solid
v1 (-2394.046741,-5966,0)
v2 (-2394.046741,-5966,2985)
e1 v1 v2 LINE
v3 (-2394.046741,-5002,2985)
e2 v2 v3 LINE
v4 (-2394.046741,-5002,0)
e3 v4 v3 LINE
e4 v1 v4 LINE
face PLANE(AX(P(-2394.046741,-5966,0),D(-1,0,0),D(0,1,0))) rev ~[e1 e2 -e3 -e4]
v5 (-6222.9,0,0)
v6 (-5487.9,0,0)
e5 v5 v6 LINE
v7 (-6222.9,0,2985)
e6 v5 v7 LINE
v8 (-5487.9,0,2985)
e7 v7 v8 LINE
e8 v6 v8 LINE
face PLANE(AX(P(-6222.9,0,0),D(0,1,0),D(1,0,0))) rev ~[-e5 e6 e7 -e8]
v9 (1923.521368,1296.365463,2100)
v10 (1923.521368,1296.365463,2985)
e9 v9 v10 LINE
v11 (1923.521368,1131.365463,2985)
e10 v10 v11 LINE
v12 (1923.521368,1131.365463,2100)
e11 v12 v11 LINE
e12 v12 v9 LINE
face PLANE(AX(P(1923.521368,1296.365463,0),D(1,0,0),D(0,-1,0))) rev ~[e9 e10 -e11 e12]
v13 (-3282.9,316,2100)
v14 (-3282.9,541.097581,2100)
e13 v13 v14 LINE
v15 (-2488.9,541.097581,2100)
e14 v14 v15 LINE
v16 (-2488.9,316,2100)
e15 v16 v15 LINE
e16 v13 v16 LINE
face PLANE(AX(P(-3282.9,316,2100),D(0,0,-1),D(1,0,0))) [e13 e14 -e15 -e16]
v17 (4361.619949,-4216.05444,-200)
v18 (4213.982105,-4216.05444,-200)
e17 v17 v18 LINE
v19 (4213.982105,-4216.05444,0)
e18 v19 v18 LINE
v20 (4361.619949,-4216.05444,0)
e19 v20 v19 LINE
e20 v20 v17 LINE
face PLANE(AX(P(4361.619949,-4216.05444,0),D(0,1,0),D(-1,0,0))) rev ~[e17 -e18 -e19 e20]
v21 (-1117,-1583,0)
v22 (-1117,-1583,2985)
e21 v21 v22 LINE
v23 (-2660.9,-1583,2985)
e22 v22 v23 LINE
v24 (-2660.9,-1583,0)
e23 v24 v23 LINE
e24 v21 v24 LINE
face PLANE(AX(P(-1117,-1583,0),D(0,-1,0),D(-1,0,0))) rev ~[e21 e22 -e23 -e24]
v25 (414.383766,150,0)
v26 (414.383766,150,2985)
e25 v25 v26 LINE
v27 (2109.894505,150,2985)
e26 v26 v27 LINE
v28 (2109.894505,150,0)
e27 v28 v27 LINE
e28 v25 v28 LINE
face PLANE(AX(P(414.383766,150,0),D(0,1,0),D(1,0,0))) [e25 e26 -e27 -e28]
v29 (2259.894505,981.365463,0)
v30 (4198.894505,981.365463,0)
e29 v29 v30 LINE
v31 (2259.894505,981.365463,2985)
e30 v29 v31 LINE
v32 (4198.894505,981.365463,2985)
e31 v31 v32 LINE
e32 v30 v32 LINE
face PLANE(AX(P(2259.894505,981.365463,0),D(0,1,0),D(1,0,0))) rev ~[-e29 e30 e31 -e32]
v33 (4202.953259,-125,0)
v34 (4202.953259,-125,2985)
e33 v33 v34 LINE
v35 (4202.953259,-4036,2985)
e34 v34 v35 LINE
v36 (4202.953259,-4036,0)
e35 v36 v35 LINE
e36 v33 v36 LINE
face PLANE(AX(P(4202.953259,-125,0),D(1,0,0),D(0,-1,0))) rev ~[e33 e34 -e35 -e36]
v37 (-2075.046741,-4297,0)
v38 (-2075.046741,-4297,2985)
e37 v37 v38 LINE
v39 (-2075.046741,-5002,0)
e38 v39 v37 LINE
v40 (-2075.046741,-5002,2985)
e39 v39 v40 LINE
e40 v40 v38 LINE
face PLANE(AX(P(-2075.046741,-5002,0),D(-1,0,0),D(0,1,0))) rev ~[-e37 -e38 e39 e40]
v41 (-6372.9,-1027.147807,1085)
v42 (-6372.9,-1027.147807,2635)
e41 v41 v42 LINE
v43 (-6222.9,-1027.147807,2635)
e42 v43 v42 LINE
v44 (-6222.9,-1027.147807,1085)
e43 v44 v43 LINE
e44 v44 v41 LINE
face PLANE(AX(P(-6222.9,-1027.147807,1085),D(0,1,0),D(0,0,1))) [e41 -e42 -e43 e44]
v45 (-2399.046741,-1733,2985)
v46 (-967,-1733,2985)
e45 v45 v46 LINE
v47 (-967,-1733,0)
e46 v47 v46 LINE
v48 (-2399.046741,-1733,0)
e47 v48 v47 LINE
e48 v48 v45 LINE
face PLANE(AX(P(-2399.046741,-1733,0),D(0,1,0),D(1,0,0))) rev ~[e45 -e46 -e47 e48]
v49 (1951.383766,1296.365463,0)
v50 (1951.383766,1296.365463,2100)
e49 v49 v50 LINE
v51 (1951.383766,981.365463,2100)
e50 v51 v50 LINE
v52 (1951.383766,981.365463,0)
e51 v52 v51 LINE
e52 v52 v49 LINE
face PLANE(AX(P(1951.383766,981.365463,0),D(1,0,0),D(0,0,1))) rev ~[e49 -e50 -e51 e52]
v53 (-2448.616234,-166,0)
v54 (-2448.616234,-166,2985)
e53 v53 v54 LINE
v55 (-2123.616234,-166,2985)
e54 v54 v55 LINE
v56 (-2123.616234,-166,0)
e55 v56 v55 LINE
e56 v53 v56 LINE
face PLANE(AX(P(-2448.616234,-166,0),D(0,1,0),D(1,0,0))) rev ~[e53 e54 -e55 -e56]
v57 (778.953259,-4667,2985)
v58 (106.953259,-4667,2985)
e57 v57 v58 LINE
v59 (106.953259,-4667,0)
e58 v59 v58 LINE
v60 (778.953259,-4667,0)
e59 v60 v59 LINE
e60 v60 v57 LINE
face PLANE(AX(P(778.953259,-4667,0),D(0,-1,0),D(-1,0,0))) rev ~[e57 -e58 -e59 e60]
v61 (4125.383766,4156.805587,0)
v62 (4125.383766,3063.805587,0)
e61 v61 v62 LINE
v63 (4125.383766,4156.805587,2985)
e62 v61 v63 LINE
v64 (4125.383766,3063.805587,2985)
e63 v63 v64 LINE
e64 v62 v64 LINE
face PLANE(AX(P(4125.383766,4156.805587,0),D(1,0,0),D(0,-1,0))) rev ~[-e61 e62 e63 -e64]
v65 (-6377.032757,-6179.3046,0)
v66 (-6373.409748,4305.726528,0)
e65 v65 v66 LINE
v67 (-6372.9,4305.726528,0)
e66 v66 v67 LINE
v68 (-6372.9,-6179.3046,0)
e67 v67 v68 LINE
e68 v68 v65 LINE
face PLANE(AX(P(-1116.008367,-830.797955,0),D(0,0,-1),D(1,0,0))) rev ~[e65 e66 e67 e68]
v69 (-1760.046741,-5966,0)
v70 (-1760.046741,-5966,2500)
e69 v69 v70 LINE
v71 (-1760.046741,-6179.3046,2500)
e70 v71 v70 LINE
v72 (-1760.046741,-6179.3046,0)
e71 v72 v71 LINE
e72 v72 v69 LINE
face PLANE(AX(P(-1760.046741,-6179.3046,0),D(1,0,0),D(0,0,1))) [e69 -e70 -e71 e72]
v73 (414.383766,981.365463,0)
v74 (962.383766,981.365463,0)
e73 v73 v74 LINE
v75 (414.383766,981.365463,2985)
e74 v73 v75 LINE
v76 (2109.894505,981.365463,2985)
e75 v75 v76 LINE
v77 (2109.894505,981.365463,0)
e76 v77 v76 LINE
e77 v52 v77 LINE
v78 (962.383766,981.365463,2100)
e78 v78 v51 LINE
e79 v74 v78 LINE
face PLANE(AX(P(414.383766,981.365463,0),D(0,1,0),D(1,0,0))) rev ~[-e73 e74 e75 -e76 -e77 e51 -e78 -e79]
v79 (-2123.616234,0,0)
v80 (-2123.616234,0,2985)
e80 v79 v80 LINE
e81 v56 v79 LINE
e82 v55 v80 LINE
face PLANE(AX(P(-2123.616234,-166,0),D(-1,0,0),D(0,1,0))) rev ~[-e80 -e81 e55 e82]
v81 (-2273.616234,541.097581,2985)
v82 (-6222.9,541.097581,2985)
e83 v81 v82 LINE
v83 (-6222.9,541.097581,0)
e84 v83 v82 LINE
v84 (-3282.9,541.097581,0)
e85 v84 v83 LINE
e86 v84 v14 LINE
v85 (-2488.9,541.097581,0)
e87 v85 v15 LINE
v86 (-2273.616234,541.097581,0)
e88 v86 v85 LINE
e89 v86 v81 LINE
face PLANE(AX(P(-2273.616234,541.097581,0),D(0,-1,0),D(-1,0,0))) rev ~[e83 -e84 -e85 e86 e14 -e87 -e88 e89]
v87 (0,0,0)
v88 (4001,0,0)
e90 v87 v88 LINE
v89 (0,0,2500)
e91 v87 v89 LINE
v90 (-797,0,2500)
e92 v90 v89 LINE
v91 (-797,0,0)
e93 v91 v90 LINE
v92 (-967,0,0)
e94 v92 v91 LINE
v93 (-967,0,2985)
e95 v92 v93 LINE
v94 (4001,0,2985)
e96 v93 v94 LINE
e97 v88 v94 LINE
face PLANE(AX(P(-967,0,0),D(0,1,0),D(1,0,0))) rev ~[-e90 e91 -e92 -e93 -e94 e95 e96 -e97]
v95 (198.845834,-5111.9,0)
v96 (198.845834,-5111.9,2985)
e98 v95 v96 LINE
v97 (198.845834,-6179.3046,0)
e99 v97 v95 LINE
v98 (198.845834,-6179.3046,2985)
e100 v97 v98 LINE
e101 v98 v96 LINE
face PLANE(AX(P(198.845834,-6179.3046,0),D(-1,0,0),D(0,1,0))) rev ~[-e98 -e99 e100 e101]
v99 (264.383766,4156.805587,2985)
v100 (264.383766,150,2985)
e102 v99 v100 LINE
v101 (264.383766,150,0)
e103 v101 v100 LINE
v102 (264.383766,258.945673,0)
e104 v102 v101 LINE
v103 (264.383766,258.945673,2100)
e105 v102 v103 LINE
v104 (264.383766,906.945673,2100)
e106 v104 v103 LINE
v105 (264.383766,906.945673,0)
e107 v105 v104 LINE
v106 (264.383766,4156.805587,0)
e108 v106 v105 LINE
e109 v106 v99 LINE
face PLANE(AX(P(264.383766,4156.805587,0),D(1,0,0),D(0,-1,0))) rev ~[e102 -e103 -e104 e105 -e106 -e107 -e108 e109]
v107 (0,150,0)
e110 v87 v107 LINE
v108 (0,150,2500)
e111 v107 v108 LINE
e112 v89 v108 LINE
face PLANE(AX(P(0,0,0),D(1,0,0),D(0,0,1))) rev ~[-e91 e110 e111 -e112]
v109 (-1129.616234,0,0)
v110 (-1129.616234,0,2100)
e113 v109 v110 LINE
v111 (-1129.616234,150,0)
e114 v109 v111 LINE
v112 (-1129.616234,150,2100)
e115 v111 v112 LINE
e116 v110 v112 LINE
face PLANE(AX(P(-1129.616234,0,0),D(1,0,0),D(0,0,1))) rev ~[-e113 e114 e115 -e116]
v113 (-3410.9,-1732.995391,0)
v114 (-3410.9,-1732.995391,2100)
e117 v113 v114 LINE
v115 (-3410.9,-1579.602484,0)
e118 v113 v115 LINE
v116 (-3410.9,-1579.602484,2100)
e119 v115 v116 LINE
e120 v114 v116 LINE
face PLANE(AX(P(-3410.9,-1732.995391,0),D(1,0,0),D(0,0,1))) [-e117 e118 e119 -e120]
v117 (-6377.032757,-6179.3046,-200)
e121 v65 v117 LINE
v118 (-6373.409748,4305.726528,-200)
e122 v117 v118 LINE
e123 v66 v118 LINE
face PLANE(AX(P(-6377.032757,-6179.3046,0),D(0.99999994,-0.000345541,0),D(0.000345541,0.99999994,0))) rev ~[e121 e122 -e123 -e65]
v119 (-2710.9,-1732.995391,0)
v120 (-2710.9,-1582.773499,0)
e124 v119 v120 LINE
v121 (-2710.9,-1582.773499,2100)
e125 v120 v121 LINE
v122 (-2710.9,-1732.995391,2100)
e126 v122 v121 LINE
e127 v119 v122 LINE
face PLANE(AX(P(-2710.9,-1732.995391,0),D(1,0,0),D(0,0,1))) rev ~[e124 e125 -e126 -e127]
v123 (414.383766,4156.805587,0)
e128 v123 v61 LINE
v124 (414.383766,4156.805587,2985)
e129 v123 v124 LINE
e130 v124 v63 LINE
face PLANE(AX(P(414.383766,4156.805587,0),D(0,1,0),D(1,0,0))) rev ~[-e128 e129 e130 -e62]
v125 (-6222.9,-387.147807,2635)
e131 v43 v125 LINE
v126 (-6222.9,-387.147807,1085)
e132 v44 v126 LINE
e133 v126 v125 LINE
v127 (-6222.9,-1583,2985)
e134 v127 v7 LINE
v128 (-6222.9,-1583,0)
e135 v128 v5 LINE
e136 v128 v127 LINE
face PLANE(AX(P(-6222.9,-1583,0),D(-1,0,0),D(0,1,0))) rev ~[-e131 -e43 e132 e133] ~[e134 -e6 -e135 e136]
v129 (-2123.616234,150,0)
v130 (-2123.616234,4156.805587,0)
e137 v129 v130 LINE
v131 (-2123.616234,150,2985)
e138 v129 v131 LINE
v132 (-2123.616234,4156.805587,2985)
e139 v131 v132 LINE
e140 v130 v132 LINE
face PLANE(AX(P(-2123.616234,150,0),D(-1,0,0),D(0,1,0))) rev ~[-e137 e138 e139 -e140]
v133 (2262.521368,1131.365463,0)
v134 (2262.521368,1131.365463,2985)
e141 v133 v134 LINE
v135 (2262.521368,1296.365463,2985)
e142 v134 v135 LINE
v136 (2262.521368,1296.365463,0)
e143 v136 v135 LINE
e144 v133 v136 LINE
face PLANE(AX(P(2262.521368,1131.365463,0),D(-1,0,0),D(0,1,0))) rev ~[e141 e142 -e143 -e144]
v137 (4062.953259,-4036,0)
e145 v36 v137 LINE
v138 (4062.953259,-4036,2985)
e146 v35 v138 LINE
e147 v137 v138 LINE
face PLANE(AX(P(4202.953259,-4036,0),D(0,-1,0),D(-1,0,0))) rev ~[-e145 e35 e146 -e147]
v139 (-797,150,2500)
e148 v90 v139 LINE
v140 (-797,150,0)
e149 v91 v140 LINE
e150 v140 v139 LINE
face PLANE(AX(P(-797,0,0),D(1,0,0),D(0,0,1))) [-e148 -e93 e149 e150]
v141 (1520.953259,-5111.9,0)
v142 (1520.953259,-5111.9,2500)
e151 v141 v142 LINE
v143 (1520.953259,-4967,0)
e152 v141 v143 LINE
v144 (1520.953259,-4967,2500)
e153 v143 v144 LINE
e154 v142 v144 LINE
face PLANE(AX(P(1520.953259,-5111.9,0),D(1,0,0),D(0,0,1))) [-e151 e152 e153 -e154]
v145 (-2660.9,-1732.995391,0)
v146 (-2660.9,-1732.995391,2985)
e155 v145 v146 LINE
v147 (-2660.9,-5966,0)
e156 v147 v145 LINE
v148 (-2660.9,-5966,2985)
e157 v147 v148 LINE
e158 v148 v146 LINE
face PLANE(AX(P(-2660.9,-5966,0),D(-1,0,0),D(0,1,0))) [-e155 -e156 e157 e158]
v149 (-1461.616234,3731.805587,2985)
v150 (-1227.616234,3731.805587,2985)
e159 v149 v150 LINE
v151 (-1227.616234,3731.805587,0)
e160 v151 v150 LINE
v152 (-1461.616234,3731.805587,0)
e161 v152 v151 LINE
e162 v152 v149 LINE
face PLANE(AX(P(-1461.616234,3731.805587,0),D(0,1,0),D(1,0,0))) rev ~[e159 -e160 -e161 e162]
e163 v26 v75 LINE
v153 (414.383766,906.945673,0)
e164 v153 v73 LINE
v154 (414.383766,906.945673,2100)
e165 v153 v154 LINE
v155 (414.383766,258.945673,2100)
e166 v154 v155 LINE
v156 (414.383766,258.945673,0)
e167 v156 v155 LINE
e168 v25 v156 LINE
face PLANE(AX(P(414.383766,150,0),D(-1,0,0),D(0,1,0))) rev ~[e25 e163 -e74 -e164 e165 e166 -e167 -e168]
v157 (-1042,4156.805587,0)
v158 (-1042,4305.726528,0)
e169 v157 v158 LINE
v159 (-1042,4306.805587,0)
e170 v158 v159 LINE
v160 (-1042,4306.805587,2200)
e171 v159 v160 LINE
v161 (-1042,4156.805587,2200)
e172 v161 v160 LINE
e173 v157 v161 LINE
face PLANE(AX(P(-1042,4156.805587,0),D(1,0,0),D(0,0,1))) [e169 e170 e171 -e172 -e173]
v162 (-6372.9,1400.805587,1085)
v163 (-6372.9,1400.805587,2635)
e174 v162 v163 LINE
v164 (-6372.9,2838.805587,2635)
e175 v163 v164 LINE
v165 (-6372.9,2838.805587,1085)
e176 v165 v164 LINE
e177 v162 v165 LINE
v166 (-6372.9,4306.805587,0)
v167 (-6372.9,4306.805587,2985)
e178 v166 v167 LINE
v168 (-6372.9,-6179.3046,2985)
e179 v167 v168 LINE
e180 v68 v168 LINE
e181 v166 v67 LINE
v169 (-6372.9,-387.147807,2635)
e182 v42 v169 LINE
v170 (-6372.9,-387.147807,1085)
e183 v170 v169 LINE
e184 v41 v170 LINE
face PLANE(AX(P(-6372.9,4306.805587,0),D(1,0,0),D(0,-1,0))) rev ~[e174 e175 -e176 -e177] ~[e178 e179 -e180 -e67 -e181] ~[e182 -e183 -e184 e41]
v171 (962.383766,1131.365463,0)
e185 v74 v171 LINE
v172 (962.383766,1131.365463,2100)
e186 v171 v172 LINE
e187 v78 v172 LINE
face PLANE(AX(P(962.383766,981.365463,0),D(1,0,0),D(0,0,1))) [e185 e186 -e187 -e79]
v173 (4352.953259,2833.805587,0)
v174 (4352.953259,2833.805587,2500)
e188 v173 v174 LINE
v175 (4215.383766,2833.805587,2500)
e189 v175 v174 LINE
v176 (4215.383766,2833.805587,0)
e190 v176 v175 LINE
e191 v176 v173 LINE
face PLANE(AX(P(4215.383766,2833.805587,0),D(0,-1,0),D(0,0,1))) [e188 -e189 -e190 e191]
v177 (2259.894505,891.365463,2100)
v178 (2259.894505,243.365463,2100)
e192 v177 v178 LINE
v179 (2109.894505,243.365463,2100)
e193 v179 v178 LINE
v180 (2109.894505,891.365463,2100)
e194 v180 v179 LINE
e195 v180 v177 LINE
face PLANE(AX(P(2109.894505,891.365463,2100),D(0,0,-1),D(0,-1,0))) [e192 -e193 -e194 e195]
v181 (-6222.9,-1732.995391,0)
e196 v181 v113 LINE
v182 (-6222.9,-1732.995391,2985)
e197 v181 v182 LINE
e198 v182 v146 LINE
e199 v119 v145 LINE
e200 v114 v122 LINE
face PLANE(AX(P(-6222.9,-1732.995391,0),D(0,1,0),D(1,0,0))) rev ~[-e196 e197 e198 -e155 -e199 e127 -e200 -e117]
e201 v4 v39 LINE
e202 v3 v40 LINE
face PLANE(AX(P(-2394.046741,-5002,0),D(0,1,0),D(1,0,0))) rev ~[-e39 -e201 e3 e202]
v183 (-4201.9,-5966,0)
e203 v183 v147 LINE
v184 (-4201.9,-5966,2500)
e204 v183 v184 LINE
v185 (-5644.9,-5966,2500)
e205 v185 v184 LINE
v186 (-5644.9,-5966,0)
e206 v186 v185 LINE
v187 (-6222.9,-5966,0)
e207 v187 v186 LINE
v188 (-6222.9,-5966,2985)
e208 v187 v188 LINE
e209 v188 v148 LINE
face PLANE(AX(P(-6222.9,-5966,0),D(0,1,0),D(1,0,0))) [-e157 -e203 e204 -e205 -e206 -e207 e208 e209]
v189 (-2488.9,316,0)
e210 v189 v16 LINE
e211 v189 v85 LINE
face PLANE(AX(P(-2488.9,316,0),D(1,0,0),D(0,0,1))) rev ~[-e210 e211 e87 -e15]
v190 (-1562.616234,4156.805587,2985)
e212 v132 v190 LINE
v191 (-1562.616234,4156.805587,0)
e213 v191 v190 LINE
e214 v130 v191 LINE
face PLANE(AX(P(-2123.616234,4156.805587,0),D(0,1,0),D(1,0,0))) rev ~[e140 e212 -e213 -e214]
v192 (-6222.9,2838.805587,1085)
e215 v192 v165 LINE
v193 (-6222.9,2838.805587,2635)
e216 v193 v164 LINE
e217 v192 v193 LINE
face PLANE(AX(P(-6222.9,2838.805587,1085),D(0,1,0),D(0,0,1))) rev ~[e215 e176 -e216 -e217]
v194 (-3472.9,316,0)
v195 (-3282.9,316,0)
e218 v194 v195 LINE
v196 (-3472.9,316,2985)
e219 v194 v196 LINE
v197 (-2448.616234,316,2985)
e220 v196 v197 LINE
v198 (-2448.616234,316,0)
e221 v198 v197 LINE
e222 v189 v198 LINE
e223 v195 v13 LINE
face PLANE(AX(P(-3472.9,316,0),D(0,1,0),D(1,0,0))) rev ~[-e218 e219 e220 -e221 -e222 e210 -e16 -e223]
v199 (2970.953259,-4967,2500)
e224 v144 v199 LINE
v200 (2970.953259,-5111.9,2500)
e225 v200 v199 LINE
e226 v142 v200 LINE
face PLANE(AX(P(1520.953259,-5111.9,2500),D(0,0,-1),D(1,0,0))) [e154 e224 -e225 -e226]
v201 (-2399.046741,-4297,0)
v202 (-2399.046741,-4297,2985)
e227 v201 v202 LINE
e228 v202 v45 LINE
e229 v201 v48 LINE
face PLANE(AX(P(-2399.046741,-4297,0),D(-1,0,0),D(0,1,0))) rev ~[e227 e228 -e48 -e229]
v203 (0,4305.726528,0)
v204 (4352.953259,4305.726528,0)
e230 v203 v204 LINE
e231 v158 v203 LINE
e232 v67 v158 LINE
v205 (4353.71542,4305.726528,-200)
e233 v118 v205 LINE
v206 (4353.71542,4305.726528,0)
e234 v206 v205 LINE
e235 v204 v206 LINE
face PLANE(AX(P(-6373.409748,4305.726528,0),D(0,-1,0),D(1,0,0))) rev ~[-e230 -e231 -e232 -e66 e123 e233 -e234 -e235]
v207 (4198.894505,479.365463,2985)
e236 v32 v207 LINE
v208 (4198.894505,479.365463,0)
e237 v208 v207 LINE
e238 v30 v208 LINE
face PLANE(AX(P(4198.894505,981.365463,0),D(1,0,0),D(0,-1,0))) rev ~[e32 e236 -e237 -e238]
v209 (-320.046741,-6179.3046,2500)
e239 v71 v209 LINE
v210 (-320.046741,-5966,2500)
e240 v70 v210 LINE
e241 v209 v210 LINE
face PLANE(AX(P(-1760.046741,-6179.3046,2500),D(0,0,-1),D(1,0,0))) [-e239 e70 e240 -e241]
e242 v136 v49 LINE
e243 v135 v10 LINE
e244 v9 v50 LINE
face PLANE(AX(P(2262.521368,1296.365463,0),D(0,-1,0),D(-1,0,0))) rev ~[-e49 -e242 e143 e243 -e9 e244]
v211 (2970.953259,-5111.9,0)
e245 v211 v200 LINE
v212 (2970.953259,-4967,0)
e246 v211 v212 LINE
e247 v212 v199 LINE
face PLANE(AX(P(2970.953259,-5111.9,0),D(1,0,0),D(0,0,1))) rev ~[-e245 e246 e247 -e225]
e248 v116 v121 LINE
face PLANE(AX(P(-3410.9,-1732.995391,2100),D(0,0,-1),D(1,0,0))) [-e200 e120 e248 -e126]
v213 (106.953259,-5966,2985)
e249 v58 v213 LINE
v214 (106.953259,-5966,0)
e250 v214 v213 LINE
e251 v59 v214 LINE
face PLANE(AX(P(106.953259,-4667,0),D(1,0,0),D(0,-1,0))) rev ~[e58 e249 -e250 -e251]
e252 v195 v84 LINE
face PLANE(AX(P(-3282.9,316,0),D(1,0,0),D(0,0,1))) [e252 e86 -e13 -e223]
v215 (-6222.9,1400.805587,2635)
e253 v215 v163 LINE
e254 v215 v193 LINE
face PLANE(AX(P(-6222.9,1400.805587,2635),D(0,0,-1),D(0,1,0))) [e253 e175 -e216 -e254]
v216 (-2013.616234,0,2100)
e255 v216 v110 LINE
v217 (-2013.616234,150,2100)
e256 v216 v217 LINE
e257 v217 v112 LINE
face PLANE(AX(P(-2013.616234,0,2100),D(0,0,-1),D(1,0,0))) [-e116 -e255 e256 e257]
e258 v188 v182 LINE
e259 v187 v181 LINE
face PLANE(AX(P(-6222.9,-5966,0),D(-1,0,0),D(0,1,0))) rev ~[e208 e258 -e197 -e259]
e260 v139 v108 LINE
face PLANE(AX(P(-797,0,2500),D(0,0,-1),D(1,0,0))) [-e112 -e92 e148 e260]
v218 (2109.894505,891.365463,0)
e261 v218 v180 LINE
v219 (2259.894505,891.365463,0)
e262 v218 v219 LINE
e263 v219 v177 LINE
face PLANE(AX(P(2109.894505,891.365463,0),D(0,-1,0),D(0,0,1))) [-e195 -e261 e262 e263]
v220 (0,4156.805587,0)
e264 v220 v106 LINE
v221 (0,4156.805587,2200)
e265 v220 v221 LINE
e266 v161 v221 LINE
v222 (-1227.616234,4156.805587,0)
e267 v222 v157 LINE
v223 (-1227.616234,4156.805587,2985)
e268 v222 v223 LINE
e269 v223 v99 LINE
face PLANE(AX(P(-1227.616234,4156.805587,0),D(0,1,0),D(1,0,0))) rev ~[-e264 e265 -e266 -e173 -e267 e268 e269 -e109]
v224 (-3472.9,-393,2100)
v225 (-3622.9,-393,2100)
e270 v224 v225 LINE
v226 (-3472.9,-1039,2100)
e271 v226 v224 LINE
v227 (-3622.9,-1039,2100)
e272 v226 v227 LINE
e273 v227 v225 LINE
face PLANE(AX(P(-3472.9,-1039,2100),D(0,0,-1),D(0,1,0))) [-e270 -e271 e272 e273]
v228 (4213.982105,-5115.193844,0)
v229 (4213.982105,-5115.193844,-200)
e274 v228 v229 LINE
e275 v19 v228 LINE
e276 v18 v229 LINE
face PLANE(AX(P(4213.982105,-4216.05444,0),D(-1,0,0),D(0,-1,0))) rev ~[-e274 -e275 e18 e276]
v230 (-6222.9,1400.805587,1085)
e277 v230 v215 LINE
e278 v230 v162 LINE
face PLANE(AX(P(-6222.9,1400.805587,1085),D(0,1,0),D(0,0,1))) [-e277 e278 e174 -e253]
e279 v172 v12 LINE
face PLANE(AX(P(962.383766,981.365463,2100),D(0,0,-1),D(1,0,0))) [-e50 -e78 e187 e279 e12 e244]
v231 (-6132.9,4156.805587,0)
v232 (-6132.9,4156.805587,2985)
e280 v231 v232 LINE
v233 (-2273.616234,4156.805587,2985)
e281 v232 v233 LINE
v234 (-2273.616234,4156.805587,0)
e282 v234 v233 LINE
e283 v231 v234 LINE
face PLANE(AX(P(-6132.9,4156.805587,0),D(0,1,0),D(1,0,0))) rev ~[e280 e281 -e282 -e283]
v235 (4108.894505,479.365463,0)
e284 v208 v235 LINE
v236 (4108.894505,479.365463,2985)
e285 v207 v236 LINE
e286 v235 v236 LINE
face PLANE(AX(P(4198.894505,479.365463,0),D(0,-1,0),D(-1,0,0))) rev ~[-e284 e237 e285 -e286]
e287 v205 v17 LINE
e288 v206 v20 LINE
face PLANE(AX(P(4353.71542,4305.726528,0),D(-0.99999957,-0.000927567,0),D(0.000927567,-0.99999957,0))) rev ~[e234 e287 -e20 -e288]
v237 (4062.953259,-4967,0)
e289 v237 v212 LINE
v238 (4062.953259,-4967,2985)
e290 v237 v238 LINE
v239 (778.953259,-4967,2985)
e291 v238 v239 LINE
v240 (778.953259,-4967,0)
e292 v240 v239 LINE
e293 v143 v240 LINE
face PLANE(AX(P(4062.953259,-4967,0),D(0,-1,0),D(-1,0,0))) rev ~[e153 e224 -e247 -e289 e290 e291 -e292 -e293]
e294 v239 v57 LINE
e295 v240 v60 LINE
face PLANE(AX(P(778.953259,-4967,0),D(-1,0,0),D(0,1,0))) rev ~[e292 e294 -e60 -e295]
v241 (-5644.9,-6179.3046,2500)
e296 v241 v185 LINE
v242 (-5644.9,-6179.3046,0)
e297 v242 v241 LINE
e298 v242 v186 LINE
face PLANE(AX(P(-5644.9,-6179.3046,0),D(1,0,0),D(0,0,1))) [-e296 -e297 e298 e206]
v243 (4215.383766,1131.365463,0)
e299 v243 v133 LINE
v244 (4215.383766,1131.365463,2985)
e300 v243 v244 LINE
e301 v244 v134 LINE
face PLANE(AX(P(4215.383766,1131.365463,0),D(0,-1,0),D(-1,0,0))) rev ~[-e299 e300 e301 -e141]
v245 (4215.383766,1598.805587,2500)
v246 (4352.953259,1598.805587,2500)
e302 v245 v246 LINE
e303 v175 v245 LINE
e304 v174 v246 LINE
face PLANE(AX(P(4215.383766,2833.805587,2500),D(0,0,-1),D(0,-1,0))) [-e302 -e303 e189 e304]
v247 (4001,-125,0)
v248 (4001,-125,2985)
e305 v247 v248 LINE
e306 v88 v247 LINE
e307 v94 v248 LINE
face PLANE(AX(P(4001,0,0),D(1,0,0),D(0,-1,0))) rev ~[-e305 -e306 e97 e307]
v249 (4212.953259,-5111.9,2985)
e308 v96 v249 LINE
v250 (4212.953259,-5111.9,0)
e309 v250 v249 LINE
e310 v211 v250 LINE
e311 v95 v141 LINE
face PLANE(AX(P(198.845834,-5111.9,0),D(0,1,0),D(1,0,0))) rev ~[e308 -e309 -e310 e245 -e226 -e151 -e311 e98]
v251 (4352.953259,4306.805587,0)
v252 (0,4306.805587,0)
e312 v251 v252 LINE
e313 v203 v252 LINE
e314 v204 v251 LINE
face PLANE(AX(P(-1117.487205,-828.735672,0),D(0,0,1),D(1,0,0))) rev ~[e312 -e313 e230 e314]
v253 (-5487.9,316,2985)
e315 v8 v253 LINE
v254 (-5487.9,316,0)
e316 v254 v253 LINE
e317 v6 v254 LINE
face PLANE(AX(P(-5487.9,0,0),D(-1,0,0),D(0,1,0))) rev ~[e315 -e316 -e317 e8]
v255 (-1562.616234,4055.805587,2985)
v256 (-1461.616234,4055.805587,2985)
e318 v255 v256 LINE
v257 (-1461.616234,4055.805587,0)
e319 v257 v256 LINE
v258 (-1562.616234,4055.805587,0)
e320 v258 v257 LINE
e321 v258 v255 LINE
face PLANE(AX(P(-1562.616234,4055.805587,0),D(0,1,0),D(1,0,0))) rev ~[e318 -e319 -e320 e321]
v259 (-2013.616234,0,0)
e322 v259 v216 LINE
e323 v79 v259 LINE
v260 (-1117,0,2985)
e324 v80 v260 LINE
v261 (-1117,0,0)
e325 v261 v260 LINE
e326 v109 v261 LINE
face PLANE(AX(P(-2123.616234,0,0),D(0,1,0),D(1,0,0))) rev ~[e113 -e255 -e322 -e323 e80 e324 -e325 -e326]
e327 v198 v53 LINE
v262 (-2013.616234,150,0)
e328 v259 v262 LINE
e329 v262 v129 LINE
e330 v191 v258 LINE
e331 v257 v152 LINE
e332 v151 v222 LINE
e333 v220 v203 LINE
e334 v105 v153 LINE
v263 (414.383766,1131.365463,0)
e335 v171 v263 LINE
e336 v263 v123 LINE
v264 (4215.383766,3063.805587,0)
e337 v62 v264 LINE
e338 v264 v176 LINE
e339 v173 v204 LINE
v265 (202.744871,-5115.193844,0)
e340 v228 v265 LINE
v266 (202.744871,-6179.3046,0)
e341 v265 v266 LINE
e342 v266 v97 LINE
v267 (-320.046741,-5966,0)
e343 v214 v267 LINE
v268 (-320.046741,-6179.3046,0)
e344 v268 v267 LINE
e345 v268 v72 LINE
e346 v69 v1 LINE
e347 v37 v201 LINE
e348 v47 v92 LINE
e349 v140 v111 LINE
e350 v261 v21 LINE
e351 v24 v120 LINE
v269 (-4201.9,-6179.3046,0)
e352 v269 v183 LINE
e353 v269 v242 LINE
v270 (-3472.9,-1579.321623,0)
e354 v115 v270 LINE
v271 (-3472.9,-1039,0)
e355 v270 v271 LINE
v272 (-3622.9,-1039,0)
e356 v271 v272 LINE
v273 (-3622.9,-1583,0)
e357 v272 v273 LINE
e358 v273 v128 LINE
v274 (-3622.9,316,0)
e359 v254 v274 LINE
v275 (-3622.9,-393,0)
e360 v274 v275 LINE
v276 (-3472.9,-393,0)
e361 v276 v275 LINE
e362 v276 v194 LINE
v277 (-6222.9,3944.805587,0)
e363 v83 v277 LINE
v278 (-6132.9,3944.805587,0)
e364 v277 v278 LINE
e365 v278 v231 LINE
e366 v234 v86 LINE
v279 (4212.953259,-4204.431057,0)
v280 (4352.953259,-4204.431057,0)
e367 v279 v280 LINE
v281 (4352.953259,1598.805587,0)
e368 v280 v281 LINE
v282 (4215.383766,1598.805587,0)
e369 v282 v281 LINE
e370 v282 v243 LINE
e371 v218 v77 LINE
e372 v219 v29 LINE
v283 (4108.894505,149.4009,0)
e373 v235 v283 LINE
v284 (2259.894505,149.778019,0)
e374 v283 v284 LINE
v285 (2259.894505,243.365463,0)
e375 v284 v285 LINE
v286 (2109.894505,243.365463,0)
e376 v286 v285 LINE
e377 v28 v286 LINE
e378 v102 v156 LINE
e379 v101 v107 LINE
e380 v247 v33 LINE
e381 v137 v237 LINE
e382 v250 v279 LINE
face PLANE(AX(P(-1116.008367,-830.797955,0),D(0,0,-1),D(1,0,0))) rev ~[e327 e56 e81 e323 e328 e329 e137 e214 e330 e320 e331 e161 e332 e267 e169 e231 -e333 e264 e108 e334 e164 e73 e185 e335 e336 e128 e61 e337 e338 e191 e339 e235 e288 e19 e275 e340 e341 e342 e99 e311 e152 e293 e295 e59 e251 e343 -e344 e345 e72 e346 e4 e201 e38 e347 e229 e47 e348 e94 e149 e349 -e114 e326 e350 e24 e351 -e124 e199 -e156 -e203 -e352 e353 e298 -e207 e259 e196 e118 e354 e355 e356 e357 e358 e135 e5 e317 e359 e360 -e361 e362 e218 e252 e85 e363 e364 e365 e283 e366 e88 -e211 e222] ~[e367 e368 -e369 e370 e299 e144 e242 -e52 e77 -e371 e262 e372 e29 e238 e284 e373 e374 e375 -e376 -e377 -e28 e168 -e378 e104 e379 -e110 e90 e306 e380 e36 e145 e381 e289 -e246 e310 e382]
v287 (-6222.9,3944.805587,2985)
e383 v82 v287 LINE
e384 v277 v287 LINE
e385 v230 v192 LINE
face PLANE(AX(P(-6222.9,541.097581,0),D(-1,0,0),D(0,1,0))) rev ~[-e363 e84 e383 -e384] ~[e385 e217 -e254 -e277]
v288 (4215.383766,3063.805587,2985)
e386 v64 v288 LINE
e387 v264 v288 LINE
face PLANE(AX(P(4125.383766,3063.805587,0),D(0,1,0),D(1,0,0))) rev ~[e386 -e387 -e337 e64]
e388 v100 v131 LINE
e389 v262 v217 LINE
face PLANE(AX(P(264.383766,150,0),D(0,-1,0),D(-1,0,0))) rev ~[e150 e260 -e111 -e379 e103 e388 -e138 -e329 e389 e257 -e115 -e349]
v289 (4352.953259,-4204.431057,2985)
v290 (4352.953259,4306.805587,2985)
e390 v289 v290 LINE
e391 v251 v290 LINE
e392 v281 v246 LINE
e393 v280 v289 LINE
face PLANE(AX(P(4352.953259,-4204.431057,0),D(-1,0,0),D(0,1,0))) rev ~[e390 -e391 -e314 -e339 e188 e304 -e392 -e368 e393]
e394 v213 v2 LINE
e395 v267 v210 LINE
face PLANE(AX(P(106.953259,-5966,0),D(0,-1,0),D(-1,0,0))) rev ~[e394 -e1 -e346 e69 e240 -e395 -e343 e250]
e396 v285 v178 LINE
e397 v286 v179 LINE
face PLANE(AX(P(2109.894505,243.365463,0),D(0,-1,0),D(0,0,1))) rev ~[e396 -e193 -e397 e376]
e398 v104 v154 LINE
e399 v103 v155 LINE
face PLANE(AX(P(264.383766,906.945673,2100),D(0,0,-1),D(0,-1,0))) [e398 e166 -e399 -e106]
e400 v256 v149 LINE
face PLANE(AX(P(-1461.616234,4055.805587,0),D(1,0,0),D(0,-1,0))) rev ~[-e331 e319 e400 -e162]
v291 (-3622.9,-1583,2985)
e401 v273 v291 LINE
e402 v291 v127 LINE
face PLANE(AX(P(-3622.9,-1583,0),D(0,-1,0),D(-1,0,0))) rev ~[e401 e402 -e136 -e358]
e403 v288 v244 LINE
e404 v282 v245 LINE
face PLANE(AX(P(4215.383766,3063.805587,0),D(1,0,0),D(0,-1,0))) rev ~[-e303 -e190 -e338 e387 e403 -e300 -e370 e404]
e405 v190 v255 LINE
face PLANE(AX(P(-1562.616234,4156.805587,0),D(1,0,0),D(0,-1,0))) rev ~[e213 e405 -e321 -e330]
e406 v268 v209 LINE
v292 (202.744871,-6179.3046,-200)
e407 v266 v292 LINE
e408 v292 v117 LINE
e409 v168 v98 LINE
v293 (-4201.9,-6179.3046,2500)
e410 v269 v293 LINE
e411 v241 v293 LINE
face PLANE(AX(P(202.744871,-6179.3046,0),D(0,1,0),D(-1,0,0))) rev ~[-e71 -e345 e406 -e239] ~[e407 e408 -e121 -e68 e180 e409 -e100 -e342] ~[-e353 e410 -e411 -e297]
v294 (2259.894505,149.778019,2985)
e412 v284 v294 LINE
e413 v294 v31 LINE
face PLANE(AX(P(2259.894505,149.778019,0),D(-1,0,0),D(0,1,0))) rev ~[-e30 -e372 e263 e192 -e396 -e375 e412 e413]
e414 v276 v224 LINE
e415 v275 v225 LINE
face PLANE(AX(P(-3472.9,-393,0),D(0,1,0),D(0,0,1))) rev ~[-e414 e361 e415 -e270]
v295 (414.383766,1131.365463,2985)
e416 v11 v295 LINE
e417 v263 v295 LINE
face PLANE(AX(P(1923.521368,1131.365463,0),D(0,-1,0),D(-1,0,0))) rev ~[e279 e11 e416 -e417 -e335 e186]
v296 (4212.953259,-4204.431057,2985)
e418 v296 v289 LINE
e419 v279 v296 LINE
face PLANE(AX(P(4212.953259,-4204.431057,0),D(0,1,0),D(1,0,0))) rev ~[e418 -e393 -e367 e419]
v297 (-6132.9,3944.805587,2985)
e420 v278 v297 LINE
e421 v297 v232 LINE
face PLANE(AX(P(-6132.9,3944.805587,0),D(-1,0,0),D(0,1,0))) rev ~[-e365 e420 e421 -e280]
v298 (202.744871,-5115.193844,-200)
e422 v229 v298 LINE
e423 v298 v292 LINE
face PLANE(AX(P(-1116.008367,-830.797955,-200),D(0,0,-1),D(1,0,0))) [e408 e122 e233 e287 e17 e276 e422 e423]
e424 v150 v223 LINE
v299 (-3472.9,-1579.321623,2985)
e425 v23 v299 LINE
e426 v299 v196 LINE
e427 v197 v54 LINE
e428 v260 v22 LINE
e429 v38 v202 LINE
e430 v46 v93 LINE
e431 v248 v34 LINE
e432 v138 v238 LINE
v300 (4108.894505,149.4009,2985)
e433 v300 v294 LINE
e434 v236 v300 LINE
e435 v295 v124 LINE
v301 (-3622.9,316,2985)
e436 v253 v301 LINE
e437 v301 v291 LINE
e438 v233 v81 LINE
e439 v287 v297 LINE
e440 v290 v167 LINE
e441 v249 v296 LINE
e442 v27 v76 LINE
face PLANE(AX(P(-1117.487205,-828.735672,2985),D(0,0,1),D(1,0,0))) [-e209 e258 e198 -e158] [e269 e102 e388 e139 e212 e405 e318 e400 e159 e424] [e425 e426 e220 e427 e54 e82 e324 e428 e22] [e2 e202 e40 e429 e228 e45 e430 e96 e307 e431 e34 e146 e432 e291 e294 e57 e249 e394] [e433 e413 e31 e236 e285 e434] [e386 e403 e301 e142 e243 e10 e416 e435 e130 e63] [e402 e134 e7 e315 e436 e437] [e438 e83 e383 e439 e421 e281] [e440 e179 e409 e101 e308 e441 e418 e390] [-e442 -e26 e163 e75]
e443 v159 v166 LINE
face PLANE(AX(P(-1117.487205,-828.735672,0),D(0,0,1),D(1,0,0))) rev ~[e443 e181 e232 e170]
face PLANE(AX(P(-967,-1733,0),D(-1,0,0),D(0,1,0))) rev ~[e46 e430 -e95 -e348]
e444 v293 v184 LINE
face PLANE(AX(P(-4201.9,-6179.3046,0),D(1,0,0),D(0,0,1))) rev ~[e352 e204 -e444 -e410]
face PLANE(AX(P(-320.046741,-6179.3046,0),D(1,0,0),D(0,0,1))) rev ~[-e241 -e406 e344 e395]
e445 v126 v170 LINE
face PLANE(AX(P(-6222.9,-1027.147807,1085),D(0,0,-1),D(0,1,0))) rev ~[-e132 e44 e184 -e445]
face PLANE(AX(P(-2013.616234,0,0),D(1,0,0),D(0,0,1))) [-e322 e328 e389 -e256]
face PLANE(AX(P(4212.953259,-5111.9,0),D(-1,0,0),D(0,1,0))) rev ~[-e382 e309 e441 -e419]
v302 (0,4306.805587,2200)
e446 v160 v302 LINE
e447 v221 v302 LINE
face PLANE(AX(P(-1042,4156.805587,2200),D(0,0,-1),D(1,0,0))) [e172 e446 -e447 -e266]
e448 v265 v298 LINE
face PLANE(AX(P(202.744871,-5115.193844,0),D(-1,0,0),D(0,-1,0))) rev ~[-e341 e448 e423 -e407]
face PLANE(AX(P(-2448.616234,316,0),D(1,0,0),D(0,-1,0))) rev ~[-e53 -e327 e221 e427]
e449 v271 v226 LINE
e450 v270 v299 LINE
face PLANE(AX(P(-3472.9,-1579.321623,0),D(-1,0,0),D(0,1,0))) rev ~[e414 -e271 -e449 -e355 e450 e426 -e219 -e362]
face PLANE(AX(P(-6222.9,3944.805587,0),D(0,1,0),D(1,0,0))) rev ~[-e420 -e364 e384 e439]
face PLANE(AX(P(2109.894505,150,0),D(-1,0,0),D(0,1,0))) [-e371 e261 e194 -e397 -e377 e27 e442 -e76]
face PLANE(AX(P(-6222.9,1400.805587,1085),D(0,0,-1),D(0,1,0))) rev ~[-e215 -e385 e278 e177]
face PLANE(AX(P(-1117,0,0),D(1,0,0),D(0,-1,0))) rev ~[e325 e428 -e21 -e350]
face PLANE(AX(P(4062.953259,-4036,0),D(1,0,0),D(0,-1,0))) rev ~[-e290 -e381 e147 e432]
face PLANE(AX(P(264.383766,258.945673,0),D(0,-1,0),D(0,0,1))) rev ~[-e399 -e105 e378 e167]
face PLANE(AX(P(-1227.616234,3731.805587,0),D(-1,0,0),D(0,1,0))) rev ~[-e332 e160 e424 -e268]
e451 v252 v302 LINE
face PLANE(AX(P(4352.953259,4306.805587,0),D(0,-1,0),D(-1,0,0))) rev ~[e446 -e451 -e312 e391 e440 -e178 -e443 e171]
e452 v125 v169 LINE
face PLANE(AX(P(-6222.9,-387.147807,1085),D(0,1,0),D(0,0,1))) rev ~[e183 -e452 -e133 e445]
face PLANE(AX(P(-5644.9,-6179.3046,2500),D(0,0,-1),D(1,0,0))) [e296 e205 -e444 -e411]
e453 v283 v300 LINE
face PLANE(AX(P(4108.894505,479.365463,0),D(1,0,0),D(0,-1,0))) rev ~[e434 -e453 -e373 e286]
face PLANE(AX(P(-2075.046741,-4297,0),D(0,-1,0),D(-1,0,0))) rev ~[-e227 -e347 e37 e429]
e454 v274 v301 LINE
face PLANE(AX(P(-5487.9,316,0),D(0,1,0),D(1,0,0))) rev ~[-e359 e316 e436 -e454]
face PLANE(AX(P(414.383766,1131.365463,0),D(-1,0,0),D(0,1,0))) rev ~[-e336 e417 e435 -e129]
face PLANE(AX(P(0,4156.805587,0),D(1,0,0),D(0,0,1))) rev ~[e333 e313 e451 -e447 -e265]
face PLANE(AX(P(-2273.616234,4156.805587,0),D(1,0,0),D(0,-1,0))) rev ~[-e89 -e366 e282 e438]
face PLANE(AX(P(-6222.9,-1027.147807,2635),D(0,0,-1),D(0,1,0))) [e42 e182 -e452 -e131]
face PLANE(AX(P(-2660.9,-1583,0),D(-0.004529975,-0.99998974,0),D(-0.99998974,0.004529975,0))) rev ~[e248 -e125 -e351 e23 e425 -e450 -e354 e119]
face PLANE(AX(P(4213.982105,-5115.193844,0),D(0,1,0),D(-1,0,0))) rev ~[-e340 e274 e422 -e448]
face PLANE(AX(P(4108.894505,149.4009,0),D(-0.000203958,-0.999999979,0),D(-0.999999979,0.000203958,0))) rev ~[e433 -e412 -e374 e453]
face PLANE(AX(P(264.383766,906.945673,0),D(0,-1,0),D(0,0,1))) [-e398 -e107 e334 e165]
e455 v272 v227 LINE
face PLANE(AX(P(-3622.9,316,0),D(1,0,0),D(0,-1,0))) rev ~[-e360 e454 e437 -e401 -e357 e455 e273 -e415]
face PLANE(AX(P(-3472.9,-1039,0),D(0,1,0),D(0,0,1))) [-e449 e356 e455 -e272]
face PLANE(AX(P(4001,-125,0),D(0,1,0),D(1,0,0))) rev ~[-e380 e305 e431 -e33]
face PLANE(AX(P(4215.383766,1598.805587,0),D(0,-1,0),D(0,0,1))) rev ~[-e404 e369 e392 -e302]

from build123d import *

# Parameters (mm, degrees)
F0_W      = 3562
F0_H      = 4233.004609108
F0_W_2    = 1695.5107385512
F0_H_2    = 831.3654631398
F1_DEPTH  = 2985
F2_W      = 1450
F2_H      = 2500
F3_DEPTH  = 144.9
F4_W      = 1440
F4_H      = 2500
F5_DEPTH  = 213.304599762
F6_W      = 1443
F6_H      = 2500
F7_DEPTH  = 213.304599762
F8_W      = 797
F8_H      = 2500
F9_DEPTH  = 150
F10_W     = 989
F10_H     = 2100
F11_DEPTH = 315.001
F12_W     = 648
F12_H     = 2100
F13_DEPTH = 150
F14_W     = 648
F14_H     = 2100
F15_DEPTH = 150
F16_W     = 1042
F16_H     = 2200
F17_DEPTH = 150
F18_W     = 1235
F18_H     = 2500
F19_DEPTH = 137.5694923401
F20_W     = 700
F20_H     = 2100
F21_DEPTH = 153.3939067339
F22_W     = 794
F22_H     = 2100
F23_DEPTH = 225.0975813866
F24_W     = 884
F24_H     = 2100
F25_DEPTH = 150
F26_W     = 646
F26_H     = 2100
F27_DEPTH = 150
F28_W     = 640
F28_H     = 1550
F29_DEPTH = 150
F30_W     = 1438
F30_H     = 1550
F31_DEPTH = 150
F33_DEPTH = 200


with BuildPart() as f1:
    # F0 (on Top) → F1 (new body)
    with BuildSketch(Plane.XY):
        Polygon((1409, -5111.9), (2800.470790863, -5111.9), (4212.9532585144, -5111.9), (4212.9532585144, -4204.4310569763), (4352.9532585144, -4204.4310569763), (4352.9532585144, 4306.8055872194), (-2273.6162338257, 4306.8055872194), (-6372.8999999957, 4306.8055872194), (-6372.8999999957, 541.0975813866), (-6372.8999999957, -6179.304599762), (-2660.8999999957, -6179.304599762), (-1872.0002385101, -6179.304599762), (-435.1912385101, -6179.304599762), (198.84583354, -6179.304599762), (198.84583354, -5111.9), (720.84583354, -5111.9), (1350.470790863, -5111.9), align=None)
        with Locations((-4441.8999999957, -3849.497695446)):
            Rectangle(F0_W, F0_H, mode=Mode.SUBTRACT)
        Polygon((-797, 0), (0, 0), (4001, 0), (4001, -125), (4202.9532585144, -125), (4202.9532585144, -4036), (4062.9532585144, -4036), (4062.9532585144, -4967), (2970.9532585144, -4967), (1520.9532585144, -4967), (778.9532585144, -4967), (778.9532585144, -4667), (106.9532585144, -4667), (106.9532585144, -5966), (-320.0467414856, -5966), (-1760.0467414856, -5966), (-2394.0467414856, -5966), (-2394.0467414856, -5002), (-2075.0467414856, -5002), (-2075.0467414856, -4297), (-2399.0467414856, -4297), (-2399.0467414856, -4291.9), (-2399.0467414856, -1733), (-967, -1733), (-967, 0), align=None, mode=Mode.SUBTRACT)
        Polygon((-5487.8999999957, 316), (-3622.8999999957, 316), (-3622.8999999957, -1583), (-6222.8999999957, -1583), (-6222.8999999957, 0), (-5487.8999999957, 0), align=None, mode=Mode.SUBTRACT)
        Polygon((-1117, -1583), (-2660.8999999957, -1583), (-3472.8999999957, -1579.3216228485), (-3472.8999999957, 316), (-2448.6162338257, 316), (-2448.6162338257, -166), (-2123.6162338257, -166), (-2123.6162338257, 0), (-1117, 0), align=None, mode=Mode.SUBTRACT)
        Polygon((-6132.8999999957, 4156.8055872194), (-2273.6162338257, 4156.8055872194), (-2273.6162338257, 541.0975813866), (-3622.8999999957, 541.0975813866), (-6222.8999999957, 541.0975813866), (-6222.8999999957, 3944.8055872194), (-6132.8999999957, 3944.8055872194), align=None, mode=Mode.SUBTRACT)
        with Locations((1262.1391354499, 565.6827315699)):
            Rectangle(F0_W_2, F0_H_2, mode=Mode.SUBTRACT)
        Polygon((4198.8945047255, 981.3654631398), (4198.8945047255, 479.3654631398), (4108.8945047255, 479.3654631398), (4108.8945047255, 149.4008999277), (2259.8945047255, 149.7780185152), (2259.8945047255, 150), (2259.8945047255, 981.3654631398), align=None, mode=Mode.SUBTRACT)
        Polygon((264.3837661743, 150), (0.0004012527, 150), (-1117, 150), (-2123.6162338257, 150), (-2123.6162338257, 4156.8055872194), (-1562.6162338257, 4156.8055872194), (-1562.6162338257, 4055.8055872194), (-1461.6162338257, 4055.8055872194), (-1461.6162338257, 3731.8055872194), (-1227.6162338257, 3731.8055872194), (-1227.6162338257, 4156.8055872194), (264.3837661743, 4156.8055872194), align=None, mode=Mode.SUBTRACT)
        Polygon((4215.3837661743, 1131.3654631398), (2262.5213682051, 1131.3654631398), (2262.5213682051, 1296.3654631398), (1923.5213682051, 1296.3654631398), (1923.5213682051, 1131.3654631398), (414.3837661743, 1131.3654631398), (414.3837661743, 4156.8055872194), (4125.3837661743, 4156.8055872194), (4125.3837661743, 3063.8055872194), (4215.3837661743, 3063.8055872194), align=None, mode=Mode.SUBTRACT)
    extrude(amount=F1_DEPTH)

    # F2 (on face) → F3 (cut, through all)
    with BuildSketch(Plane.XZ.offset(5111.9)):
        with Locations((2245.9532585144, 1250)):
            Rectangle(F2_W, F2_H)
    extrude(amount=-F3_DEPTH, mode=Mode.SUBTRACT)

    # F4 (on face) → F5 (cut, through all)
    with BuildSketch(Plane.XZ.offset(6179.304599762)):
        with Locations((-1040.0467414856, 1250)):
            Rectangle(F4_W, F4_H)
    extrude(amount=-F5_DEPTH, mode=Mode.SUBTRACT)

    # F6 (on face) → F7 (cut, through all)
    with BuildSketch(Plane.XZ.offset(6179.304599762)):
        with Locations((-4923.3999999957, 1250)):
            Rectangle(F6_W, F6_H)
    extrude(amount=-F7_DEPTH, mode=Mode.SUBTRACT)

    # F8 (on face) → F9 (cut, through all)
    with BuildSketch(Plane.XZ):
        with Locations((-398.5, 1250)):
            Rectangle(F8_W, F8_H)
    extrude(amount=-F9_DEPTH, mode=Mode.SUBTRACT)

    # F10 (on face) → F11 (cut, through all)
    with BuildSketch(Plane.XZ.offset(-981.3654631398)):
        with Locations((1456.8837661743, 1050)):
            Rectangle(F10_W, F10_H)
    extrude(amount=-F11_DEPTH, mode=Mode.SUBTRACT)

    # F12 (on face) → F13 (cut, through all)
    with BuildSketch(Plane(origin=(264.3837661743, 0, 0), x_dir=(0, -1, 0), z_dir=(-1, 0, 0))):
        with Locations((-582.9456732107, 1050)):
            Rectangle(F12_W, F12_H)
    extrude(amount=-F13_DEPTH, mode=Mode.SUBTRACT)

    # F14 (on face) → F15 (cut, through all)
    with BuildSketch(Plane(origin=(2109.8945047255, 0, 0), x_dir=(0, -1, 0), z_dir=(-1, 0, 0))):
        with Locations((-567.3654631398, 1050)):
            Rectangle(F14_W, F14_H)
    extrude(amount=-F15_DEPTH, mode=Mode.SUBTRACT)

    # F16 (on face) → F17 (cut, through all)
    with BuildSketch(Plane.XZ.offset(-4156.8055872194)):
        with Locations((-521, 1100)):
            Rectangle(F16_W, F16_H)
    extrude(amount=-F17_DEPTH, mode=Mode.SUBTRACT)

    # F18 (on face) → F19 (cut, through all)
    with BuildSketch(Plane(origin=(4215.3837661743, 0, 0), x_dir=(0, -1, 0), z_dir=(-1, 0, 0))):
        with Locations((-2216.3055872194, 1250)):
            Rectangle(F18_W, F18_H)
    extrude(amount=-F19_DEPTH, mode=Mode.SUBTRACT)

    # F20 (on face) → F21 (cut, through all)
    with BuildSketch(Plane.XZ.offset(1732.995390892)):
        with Locations((-3060.8999999957, 1050)):
            Rectangle(F20_W, F20_H)
    extrude(amount=-F21_DEPTH, mode=Mode.SUBTRACT)

    # F22 (on face) → F23 (cut, through all)
    with BuildSketch(Plane.XZ.offset(-316)):
        with Locations((-2885.8999999957, 1050)):
            Rectangle(F22_W, F22_H)
    extrude(amount=-F23_DEPTH, mode=Mode.SUBTRACT)

    # F24 (on face) → F25 (cut, through all)
    with BuildSketch(Plane.XZ):
        with Locations((-1571.6162338257, 1050)):
            Rectangle(F24_W, F24_H)
    extrude(amount=-F25_DEPTH, mode=Mode.SUBTRACT)

    # F26 (on face) → F27 (cut, through all)
    with BuildSketch(Plane.YZ.offset(-3472.8999999957)):
        with Locations((-716, 1050)):
            Rectangle(F26_W, F26_H)
    extrude(amount=-F27_DEPTH, mode=Mode.SUBTRACT)

    # F28 (on face) → F29 (cut, through all)
    with BuildSketch(Plane.YZ.offset(-6222.8999999957)):
        with Locations((-707.1478068829, 1860)):
            Rectangle(F28_W, F28_H)
    extrude(amount=-F29_DEPTH, mode=Mode.SUBTRACT)

    # F30 (on face) → F31 (cut, through all)
    with BuildSketch(Plane.YZ.offset(-6222.8999999957)):
        with Locations((2119.8055872194, 1860)):
            Rectangle(F30_W, F30_H)
    extrude(amount=-F31_DEPTH, mode=Mode.SUBTRACT)

    # F32 (on face) → F33 (join)
    with BuildSketch(Plane(origin=(0, 0, 0), x_dir=(1, 0, 0), z_dir=(0, 0, -1))):
        Polygon((202.7448713779, 6179.304599762), (-6377.0327568054, 6179.304599762), (-6373.4097480774, -4305.7265281677), (4353.7154197693, -4305.7265281677), (4361.6199493408, 4216.0544395447), (4213.9821052551, 4216.0544395447), (4213.9821052551, 5115.1938438416), (202.7448713779, 5115.1938438416), align=None)
    extrude(amount=F33_DEPTH)


solid = f1.part
